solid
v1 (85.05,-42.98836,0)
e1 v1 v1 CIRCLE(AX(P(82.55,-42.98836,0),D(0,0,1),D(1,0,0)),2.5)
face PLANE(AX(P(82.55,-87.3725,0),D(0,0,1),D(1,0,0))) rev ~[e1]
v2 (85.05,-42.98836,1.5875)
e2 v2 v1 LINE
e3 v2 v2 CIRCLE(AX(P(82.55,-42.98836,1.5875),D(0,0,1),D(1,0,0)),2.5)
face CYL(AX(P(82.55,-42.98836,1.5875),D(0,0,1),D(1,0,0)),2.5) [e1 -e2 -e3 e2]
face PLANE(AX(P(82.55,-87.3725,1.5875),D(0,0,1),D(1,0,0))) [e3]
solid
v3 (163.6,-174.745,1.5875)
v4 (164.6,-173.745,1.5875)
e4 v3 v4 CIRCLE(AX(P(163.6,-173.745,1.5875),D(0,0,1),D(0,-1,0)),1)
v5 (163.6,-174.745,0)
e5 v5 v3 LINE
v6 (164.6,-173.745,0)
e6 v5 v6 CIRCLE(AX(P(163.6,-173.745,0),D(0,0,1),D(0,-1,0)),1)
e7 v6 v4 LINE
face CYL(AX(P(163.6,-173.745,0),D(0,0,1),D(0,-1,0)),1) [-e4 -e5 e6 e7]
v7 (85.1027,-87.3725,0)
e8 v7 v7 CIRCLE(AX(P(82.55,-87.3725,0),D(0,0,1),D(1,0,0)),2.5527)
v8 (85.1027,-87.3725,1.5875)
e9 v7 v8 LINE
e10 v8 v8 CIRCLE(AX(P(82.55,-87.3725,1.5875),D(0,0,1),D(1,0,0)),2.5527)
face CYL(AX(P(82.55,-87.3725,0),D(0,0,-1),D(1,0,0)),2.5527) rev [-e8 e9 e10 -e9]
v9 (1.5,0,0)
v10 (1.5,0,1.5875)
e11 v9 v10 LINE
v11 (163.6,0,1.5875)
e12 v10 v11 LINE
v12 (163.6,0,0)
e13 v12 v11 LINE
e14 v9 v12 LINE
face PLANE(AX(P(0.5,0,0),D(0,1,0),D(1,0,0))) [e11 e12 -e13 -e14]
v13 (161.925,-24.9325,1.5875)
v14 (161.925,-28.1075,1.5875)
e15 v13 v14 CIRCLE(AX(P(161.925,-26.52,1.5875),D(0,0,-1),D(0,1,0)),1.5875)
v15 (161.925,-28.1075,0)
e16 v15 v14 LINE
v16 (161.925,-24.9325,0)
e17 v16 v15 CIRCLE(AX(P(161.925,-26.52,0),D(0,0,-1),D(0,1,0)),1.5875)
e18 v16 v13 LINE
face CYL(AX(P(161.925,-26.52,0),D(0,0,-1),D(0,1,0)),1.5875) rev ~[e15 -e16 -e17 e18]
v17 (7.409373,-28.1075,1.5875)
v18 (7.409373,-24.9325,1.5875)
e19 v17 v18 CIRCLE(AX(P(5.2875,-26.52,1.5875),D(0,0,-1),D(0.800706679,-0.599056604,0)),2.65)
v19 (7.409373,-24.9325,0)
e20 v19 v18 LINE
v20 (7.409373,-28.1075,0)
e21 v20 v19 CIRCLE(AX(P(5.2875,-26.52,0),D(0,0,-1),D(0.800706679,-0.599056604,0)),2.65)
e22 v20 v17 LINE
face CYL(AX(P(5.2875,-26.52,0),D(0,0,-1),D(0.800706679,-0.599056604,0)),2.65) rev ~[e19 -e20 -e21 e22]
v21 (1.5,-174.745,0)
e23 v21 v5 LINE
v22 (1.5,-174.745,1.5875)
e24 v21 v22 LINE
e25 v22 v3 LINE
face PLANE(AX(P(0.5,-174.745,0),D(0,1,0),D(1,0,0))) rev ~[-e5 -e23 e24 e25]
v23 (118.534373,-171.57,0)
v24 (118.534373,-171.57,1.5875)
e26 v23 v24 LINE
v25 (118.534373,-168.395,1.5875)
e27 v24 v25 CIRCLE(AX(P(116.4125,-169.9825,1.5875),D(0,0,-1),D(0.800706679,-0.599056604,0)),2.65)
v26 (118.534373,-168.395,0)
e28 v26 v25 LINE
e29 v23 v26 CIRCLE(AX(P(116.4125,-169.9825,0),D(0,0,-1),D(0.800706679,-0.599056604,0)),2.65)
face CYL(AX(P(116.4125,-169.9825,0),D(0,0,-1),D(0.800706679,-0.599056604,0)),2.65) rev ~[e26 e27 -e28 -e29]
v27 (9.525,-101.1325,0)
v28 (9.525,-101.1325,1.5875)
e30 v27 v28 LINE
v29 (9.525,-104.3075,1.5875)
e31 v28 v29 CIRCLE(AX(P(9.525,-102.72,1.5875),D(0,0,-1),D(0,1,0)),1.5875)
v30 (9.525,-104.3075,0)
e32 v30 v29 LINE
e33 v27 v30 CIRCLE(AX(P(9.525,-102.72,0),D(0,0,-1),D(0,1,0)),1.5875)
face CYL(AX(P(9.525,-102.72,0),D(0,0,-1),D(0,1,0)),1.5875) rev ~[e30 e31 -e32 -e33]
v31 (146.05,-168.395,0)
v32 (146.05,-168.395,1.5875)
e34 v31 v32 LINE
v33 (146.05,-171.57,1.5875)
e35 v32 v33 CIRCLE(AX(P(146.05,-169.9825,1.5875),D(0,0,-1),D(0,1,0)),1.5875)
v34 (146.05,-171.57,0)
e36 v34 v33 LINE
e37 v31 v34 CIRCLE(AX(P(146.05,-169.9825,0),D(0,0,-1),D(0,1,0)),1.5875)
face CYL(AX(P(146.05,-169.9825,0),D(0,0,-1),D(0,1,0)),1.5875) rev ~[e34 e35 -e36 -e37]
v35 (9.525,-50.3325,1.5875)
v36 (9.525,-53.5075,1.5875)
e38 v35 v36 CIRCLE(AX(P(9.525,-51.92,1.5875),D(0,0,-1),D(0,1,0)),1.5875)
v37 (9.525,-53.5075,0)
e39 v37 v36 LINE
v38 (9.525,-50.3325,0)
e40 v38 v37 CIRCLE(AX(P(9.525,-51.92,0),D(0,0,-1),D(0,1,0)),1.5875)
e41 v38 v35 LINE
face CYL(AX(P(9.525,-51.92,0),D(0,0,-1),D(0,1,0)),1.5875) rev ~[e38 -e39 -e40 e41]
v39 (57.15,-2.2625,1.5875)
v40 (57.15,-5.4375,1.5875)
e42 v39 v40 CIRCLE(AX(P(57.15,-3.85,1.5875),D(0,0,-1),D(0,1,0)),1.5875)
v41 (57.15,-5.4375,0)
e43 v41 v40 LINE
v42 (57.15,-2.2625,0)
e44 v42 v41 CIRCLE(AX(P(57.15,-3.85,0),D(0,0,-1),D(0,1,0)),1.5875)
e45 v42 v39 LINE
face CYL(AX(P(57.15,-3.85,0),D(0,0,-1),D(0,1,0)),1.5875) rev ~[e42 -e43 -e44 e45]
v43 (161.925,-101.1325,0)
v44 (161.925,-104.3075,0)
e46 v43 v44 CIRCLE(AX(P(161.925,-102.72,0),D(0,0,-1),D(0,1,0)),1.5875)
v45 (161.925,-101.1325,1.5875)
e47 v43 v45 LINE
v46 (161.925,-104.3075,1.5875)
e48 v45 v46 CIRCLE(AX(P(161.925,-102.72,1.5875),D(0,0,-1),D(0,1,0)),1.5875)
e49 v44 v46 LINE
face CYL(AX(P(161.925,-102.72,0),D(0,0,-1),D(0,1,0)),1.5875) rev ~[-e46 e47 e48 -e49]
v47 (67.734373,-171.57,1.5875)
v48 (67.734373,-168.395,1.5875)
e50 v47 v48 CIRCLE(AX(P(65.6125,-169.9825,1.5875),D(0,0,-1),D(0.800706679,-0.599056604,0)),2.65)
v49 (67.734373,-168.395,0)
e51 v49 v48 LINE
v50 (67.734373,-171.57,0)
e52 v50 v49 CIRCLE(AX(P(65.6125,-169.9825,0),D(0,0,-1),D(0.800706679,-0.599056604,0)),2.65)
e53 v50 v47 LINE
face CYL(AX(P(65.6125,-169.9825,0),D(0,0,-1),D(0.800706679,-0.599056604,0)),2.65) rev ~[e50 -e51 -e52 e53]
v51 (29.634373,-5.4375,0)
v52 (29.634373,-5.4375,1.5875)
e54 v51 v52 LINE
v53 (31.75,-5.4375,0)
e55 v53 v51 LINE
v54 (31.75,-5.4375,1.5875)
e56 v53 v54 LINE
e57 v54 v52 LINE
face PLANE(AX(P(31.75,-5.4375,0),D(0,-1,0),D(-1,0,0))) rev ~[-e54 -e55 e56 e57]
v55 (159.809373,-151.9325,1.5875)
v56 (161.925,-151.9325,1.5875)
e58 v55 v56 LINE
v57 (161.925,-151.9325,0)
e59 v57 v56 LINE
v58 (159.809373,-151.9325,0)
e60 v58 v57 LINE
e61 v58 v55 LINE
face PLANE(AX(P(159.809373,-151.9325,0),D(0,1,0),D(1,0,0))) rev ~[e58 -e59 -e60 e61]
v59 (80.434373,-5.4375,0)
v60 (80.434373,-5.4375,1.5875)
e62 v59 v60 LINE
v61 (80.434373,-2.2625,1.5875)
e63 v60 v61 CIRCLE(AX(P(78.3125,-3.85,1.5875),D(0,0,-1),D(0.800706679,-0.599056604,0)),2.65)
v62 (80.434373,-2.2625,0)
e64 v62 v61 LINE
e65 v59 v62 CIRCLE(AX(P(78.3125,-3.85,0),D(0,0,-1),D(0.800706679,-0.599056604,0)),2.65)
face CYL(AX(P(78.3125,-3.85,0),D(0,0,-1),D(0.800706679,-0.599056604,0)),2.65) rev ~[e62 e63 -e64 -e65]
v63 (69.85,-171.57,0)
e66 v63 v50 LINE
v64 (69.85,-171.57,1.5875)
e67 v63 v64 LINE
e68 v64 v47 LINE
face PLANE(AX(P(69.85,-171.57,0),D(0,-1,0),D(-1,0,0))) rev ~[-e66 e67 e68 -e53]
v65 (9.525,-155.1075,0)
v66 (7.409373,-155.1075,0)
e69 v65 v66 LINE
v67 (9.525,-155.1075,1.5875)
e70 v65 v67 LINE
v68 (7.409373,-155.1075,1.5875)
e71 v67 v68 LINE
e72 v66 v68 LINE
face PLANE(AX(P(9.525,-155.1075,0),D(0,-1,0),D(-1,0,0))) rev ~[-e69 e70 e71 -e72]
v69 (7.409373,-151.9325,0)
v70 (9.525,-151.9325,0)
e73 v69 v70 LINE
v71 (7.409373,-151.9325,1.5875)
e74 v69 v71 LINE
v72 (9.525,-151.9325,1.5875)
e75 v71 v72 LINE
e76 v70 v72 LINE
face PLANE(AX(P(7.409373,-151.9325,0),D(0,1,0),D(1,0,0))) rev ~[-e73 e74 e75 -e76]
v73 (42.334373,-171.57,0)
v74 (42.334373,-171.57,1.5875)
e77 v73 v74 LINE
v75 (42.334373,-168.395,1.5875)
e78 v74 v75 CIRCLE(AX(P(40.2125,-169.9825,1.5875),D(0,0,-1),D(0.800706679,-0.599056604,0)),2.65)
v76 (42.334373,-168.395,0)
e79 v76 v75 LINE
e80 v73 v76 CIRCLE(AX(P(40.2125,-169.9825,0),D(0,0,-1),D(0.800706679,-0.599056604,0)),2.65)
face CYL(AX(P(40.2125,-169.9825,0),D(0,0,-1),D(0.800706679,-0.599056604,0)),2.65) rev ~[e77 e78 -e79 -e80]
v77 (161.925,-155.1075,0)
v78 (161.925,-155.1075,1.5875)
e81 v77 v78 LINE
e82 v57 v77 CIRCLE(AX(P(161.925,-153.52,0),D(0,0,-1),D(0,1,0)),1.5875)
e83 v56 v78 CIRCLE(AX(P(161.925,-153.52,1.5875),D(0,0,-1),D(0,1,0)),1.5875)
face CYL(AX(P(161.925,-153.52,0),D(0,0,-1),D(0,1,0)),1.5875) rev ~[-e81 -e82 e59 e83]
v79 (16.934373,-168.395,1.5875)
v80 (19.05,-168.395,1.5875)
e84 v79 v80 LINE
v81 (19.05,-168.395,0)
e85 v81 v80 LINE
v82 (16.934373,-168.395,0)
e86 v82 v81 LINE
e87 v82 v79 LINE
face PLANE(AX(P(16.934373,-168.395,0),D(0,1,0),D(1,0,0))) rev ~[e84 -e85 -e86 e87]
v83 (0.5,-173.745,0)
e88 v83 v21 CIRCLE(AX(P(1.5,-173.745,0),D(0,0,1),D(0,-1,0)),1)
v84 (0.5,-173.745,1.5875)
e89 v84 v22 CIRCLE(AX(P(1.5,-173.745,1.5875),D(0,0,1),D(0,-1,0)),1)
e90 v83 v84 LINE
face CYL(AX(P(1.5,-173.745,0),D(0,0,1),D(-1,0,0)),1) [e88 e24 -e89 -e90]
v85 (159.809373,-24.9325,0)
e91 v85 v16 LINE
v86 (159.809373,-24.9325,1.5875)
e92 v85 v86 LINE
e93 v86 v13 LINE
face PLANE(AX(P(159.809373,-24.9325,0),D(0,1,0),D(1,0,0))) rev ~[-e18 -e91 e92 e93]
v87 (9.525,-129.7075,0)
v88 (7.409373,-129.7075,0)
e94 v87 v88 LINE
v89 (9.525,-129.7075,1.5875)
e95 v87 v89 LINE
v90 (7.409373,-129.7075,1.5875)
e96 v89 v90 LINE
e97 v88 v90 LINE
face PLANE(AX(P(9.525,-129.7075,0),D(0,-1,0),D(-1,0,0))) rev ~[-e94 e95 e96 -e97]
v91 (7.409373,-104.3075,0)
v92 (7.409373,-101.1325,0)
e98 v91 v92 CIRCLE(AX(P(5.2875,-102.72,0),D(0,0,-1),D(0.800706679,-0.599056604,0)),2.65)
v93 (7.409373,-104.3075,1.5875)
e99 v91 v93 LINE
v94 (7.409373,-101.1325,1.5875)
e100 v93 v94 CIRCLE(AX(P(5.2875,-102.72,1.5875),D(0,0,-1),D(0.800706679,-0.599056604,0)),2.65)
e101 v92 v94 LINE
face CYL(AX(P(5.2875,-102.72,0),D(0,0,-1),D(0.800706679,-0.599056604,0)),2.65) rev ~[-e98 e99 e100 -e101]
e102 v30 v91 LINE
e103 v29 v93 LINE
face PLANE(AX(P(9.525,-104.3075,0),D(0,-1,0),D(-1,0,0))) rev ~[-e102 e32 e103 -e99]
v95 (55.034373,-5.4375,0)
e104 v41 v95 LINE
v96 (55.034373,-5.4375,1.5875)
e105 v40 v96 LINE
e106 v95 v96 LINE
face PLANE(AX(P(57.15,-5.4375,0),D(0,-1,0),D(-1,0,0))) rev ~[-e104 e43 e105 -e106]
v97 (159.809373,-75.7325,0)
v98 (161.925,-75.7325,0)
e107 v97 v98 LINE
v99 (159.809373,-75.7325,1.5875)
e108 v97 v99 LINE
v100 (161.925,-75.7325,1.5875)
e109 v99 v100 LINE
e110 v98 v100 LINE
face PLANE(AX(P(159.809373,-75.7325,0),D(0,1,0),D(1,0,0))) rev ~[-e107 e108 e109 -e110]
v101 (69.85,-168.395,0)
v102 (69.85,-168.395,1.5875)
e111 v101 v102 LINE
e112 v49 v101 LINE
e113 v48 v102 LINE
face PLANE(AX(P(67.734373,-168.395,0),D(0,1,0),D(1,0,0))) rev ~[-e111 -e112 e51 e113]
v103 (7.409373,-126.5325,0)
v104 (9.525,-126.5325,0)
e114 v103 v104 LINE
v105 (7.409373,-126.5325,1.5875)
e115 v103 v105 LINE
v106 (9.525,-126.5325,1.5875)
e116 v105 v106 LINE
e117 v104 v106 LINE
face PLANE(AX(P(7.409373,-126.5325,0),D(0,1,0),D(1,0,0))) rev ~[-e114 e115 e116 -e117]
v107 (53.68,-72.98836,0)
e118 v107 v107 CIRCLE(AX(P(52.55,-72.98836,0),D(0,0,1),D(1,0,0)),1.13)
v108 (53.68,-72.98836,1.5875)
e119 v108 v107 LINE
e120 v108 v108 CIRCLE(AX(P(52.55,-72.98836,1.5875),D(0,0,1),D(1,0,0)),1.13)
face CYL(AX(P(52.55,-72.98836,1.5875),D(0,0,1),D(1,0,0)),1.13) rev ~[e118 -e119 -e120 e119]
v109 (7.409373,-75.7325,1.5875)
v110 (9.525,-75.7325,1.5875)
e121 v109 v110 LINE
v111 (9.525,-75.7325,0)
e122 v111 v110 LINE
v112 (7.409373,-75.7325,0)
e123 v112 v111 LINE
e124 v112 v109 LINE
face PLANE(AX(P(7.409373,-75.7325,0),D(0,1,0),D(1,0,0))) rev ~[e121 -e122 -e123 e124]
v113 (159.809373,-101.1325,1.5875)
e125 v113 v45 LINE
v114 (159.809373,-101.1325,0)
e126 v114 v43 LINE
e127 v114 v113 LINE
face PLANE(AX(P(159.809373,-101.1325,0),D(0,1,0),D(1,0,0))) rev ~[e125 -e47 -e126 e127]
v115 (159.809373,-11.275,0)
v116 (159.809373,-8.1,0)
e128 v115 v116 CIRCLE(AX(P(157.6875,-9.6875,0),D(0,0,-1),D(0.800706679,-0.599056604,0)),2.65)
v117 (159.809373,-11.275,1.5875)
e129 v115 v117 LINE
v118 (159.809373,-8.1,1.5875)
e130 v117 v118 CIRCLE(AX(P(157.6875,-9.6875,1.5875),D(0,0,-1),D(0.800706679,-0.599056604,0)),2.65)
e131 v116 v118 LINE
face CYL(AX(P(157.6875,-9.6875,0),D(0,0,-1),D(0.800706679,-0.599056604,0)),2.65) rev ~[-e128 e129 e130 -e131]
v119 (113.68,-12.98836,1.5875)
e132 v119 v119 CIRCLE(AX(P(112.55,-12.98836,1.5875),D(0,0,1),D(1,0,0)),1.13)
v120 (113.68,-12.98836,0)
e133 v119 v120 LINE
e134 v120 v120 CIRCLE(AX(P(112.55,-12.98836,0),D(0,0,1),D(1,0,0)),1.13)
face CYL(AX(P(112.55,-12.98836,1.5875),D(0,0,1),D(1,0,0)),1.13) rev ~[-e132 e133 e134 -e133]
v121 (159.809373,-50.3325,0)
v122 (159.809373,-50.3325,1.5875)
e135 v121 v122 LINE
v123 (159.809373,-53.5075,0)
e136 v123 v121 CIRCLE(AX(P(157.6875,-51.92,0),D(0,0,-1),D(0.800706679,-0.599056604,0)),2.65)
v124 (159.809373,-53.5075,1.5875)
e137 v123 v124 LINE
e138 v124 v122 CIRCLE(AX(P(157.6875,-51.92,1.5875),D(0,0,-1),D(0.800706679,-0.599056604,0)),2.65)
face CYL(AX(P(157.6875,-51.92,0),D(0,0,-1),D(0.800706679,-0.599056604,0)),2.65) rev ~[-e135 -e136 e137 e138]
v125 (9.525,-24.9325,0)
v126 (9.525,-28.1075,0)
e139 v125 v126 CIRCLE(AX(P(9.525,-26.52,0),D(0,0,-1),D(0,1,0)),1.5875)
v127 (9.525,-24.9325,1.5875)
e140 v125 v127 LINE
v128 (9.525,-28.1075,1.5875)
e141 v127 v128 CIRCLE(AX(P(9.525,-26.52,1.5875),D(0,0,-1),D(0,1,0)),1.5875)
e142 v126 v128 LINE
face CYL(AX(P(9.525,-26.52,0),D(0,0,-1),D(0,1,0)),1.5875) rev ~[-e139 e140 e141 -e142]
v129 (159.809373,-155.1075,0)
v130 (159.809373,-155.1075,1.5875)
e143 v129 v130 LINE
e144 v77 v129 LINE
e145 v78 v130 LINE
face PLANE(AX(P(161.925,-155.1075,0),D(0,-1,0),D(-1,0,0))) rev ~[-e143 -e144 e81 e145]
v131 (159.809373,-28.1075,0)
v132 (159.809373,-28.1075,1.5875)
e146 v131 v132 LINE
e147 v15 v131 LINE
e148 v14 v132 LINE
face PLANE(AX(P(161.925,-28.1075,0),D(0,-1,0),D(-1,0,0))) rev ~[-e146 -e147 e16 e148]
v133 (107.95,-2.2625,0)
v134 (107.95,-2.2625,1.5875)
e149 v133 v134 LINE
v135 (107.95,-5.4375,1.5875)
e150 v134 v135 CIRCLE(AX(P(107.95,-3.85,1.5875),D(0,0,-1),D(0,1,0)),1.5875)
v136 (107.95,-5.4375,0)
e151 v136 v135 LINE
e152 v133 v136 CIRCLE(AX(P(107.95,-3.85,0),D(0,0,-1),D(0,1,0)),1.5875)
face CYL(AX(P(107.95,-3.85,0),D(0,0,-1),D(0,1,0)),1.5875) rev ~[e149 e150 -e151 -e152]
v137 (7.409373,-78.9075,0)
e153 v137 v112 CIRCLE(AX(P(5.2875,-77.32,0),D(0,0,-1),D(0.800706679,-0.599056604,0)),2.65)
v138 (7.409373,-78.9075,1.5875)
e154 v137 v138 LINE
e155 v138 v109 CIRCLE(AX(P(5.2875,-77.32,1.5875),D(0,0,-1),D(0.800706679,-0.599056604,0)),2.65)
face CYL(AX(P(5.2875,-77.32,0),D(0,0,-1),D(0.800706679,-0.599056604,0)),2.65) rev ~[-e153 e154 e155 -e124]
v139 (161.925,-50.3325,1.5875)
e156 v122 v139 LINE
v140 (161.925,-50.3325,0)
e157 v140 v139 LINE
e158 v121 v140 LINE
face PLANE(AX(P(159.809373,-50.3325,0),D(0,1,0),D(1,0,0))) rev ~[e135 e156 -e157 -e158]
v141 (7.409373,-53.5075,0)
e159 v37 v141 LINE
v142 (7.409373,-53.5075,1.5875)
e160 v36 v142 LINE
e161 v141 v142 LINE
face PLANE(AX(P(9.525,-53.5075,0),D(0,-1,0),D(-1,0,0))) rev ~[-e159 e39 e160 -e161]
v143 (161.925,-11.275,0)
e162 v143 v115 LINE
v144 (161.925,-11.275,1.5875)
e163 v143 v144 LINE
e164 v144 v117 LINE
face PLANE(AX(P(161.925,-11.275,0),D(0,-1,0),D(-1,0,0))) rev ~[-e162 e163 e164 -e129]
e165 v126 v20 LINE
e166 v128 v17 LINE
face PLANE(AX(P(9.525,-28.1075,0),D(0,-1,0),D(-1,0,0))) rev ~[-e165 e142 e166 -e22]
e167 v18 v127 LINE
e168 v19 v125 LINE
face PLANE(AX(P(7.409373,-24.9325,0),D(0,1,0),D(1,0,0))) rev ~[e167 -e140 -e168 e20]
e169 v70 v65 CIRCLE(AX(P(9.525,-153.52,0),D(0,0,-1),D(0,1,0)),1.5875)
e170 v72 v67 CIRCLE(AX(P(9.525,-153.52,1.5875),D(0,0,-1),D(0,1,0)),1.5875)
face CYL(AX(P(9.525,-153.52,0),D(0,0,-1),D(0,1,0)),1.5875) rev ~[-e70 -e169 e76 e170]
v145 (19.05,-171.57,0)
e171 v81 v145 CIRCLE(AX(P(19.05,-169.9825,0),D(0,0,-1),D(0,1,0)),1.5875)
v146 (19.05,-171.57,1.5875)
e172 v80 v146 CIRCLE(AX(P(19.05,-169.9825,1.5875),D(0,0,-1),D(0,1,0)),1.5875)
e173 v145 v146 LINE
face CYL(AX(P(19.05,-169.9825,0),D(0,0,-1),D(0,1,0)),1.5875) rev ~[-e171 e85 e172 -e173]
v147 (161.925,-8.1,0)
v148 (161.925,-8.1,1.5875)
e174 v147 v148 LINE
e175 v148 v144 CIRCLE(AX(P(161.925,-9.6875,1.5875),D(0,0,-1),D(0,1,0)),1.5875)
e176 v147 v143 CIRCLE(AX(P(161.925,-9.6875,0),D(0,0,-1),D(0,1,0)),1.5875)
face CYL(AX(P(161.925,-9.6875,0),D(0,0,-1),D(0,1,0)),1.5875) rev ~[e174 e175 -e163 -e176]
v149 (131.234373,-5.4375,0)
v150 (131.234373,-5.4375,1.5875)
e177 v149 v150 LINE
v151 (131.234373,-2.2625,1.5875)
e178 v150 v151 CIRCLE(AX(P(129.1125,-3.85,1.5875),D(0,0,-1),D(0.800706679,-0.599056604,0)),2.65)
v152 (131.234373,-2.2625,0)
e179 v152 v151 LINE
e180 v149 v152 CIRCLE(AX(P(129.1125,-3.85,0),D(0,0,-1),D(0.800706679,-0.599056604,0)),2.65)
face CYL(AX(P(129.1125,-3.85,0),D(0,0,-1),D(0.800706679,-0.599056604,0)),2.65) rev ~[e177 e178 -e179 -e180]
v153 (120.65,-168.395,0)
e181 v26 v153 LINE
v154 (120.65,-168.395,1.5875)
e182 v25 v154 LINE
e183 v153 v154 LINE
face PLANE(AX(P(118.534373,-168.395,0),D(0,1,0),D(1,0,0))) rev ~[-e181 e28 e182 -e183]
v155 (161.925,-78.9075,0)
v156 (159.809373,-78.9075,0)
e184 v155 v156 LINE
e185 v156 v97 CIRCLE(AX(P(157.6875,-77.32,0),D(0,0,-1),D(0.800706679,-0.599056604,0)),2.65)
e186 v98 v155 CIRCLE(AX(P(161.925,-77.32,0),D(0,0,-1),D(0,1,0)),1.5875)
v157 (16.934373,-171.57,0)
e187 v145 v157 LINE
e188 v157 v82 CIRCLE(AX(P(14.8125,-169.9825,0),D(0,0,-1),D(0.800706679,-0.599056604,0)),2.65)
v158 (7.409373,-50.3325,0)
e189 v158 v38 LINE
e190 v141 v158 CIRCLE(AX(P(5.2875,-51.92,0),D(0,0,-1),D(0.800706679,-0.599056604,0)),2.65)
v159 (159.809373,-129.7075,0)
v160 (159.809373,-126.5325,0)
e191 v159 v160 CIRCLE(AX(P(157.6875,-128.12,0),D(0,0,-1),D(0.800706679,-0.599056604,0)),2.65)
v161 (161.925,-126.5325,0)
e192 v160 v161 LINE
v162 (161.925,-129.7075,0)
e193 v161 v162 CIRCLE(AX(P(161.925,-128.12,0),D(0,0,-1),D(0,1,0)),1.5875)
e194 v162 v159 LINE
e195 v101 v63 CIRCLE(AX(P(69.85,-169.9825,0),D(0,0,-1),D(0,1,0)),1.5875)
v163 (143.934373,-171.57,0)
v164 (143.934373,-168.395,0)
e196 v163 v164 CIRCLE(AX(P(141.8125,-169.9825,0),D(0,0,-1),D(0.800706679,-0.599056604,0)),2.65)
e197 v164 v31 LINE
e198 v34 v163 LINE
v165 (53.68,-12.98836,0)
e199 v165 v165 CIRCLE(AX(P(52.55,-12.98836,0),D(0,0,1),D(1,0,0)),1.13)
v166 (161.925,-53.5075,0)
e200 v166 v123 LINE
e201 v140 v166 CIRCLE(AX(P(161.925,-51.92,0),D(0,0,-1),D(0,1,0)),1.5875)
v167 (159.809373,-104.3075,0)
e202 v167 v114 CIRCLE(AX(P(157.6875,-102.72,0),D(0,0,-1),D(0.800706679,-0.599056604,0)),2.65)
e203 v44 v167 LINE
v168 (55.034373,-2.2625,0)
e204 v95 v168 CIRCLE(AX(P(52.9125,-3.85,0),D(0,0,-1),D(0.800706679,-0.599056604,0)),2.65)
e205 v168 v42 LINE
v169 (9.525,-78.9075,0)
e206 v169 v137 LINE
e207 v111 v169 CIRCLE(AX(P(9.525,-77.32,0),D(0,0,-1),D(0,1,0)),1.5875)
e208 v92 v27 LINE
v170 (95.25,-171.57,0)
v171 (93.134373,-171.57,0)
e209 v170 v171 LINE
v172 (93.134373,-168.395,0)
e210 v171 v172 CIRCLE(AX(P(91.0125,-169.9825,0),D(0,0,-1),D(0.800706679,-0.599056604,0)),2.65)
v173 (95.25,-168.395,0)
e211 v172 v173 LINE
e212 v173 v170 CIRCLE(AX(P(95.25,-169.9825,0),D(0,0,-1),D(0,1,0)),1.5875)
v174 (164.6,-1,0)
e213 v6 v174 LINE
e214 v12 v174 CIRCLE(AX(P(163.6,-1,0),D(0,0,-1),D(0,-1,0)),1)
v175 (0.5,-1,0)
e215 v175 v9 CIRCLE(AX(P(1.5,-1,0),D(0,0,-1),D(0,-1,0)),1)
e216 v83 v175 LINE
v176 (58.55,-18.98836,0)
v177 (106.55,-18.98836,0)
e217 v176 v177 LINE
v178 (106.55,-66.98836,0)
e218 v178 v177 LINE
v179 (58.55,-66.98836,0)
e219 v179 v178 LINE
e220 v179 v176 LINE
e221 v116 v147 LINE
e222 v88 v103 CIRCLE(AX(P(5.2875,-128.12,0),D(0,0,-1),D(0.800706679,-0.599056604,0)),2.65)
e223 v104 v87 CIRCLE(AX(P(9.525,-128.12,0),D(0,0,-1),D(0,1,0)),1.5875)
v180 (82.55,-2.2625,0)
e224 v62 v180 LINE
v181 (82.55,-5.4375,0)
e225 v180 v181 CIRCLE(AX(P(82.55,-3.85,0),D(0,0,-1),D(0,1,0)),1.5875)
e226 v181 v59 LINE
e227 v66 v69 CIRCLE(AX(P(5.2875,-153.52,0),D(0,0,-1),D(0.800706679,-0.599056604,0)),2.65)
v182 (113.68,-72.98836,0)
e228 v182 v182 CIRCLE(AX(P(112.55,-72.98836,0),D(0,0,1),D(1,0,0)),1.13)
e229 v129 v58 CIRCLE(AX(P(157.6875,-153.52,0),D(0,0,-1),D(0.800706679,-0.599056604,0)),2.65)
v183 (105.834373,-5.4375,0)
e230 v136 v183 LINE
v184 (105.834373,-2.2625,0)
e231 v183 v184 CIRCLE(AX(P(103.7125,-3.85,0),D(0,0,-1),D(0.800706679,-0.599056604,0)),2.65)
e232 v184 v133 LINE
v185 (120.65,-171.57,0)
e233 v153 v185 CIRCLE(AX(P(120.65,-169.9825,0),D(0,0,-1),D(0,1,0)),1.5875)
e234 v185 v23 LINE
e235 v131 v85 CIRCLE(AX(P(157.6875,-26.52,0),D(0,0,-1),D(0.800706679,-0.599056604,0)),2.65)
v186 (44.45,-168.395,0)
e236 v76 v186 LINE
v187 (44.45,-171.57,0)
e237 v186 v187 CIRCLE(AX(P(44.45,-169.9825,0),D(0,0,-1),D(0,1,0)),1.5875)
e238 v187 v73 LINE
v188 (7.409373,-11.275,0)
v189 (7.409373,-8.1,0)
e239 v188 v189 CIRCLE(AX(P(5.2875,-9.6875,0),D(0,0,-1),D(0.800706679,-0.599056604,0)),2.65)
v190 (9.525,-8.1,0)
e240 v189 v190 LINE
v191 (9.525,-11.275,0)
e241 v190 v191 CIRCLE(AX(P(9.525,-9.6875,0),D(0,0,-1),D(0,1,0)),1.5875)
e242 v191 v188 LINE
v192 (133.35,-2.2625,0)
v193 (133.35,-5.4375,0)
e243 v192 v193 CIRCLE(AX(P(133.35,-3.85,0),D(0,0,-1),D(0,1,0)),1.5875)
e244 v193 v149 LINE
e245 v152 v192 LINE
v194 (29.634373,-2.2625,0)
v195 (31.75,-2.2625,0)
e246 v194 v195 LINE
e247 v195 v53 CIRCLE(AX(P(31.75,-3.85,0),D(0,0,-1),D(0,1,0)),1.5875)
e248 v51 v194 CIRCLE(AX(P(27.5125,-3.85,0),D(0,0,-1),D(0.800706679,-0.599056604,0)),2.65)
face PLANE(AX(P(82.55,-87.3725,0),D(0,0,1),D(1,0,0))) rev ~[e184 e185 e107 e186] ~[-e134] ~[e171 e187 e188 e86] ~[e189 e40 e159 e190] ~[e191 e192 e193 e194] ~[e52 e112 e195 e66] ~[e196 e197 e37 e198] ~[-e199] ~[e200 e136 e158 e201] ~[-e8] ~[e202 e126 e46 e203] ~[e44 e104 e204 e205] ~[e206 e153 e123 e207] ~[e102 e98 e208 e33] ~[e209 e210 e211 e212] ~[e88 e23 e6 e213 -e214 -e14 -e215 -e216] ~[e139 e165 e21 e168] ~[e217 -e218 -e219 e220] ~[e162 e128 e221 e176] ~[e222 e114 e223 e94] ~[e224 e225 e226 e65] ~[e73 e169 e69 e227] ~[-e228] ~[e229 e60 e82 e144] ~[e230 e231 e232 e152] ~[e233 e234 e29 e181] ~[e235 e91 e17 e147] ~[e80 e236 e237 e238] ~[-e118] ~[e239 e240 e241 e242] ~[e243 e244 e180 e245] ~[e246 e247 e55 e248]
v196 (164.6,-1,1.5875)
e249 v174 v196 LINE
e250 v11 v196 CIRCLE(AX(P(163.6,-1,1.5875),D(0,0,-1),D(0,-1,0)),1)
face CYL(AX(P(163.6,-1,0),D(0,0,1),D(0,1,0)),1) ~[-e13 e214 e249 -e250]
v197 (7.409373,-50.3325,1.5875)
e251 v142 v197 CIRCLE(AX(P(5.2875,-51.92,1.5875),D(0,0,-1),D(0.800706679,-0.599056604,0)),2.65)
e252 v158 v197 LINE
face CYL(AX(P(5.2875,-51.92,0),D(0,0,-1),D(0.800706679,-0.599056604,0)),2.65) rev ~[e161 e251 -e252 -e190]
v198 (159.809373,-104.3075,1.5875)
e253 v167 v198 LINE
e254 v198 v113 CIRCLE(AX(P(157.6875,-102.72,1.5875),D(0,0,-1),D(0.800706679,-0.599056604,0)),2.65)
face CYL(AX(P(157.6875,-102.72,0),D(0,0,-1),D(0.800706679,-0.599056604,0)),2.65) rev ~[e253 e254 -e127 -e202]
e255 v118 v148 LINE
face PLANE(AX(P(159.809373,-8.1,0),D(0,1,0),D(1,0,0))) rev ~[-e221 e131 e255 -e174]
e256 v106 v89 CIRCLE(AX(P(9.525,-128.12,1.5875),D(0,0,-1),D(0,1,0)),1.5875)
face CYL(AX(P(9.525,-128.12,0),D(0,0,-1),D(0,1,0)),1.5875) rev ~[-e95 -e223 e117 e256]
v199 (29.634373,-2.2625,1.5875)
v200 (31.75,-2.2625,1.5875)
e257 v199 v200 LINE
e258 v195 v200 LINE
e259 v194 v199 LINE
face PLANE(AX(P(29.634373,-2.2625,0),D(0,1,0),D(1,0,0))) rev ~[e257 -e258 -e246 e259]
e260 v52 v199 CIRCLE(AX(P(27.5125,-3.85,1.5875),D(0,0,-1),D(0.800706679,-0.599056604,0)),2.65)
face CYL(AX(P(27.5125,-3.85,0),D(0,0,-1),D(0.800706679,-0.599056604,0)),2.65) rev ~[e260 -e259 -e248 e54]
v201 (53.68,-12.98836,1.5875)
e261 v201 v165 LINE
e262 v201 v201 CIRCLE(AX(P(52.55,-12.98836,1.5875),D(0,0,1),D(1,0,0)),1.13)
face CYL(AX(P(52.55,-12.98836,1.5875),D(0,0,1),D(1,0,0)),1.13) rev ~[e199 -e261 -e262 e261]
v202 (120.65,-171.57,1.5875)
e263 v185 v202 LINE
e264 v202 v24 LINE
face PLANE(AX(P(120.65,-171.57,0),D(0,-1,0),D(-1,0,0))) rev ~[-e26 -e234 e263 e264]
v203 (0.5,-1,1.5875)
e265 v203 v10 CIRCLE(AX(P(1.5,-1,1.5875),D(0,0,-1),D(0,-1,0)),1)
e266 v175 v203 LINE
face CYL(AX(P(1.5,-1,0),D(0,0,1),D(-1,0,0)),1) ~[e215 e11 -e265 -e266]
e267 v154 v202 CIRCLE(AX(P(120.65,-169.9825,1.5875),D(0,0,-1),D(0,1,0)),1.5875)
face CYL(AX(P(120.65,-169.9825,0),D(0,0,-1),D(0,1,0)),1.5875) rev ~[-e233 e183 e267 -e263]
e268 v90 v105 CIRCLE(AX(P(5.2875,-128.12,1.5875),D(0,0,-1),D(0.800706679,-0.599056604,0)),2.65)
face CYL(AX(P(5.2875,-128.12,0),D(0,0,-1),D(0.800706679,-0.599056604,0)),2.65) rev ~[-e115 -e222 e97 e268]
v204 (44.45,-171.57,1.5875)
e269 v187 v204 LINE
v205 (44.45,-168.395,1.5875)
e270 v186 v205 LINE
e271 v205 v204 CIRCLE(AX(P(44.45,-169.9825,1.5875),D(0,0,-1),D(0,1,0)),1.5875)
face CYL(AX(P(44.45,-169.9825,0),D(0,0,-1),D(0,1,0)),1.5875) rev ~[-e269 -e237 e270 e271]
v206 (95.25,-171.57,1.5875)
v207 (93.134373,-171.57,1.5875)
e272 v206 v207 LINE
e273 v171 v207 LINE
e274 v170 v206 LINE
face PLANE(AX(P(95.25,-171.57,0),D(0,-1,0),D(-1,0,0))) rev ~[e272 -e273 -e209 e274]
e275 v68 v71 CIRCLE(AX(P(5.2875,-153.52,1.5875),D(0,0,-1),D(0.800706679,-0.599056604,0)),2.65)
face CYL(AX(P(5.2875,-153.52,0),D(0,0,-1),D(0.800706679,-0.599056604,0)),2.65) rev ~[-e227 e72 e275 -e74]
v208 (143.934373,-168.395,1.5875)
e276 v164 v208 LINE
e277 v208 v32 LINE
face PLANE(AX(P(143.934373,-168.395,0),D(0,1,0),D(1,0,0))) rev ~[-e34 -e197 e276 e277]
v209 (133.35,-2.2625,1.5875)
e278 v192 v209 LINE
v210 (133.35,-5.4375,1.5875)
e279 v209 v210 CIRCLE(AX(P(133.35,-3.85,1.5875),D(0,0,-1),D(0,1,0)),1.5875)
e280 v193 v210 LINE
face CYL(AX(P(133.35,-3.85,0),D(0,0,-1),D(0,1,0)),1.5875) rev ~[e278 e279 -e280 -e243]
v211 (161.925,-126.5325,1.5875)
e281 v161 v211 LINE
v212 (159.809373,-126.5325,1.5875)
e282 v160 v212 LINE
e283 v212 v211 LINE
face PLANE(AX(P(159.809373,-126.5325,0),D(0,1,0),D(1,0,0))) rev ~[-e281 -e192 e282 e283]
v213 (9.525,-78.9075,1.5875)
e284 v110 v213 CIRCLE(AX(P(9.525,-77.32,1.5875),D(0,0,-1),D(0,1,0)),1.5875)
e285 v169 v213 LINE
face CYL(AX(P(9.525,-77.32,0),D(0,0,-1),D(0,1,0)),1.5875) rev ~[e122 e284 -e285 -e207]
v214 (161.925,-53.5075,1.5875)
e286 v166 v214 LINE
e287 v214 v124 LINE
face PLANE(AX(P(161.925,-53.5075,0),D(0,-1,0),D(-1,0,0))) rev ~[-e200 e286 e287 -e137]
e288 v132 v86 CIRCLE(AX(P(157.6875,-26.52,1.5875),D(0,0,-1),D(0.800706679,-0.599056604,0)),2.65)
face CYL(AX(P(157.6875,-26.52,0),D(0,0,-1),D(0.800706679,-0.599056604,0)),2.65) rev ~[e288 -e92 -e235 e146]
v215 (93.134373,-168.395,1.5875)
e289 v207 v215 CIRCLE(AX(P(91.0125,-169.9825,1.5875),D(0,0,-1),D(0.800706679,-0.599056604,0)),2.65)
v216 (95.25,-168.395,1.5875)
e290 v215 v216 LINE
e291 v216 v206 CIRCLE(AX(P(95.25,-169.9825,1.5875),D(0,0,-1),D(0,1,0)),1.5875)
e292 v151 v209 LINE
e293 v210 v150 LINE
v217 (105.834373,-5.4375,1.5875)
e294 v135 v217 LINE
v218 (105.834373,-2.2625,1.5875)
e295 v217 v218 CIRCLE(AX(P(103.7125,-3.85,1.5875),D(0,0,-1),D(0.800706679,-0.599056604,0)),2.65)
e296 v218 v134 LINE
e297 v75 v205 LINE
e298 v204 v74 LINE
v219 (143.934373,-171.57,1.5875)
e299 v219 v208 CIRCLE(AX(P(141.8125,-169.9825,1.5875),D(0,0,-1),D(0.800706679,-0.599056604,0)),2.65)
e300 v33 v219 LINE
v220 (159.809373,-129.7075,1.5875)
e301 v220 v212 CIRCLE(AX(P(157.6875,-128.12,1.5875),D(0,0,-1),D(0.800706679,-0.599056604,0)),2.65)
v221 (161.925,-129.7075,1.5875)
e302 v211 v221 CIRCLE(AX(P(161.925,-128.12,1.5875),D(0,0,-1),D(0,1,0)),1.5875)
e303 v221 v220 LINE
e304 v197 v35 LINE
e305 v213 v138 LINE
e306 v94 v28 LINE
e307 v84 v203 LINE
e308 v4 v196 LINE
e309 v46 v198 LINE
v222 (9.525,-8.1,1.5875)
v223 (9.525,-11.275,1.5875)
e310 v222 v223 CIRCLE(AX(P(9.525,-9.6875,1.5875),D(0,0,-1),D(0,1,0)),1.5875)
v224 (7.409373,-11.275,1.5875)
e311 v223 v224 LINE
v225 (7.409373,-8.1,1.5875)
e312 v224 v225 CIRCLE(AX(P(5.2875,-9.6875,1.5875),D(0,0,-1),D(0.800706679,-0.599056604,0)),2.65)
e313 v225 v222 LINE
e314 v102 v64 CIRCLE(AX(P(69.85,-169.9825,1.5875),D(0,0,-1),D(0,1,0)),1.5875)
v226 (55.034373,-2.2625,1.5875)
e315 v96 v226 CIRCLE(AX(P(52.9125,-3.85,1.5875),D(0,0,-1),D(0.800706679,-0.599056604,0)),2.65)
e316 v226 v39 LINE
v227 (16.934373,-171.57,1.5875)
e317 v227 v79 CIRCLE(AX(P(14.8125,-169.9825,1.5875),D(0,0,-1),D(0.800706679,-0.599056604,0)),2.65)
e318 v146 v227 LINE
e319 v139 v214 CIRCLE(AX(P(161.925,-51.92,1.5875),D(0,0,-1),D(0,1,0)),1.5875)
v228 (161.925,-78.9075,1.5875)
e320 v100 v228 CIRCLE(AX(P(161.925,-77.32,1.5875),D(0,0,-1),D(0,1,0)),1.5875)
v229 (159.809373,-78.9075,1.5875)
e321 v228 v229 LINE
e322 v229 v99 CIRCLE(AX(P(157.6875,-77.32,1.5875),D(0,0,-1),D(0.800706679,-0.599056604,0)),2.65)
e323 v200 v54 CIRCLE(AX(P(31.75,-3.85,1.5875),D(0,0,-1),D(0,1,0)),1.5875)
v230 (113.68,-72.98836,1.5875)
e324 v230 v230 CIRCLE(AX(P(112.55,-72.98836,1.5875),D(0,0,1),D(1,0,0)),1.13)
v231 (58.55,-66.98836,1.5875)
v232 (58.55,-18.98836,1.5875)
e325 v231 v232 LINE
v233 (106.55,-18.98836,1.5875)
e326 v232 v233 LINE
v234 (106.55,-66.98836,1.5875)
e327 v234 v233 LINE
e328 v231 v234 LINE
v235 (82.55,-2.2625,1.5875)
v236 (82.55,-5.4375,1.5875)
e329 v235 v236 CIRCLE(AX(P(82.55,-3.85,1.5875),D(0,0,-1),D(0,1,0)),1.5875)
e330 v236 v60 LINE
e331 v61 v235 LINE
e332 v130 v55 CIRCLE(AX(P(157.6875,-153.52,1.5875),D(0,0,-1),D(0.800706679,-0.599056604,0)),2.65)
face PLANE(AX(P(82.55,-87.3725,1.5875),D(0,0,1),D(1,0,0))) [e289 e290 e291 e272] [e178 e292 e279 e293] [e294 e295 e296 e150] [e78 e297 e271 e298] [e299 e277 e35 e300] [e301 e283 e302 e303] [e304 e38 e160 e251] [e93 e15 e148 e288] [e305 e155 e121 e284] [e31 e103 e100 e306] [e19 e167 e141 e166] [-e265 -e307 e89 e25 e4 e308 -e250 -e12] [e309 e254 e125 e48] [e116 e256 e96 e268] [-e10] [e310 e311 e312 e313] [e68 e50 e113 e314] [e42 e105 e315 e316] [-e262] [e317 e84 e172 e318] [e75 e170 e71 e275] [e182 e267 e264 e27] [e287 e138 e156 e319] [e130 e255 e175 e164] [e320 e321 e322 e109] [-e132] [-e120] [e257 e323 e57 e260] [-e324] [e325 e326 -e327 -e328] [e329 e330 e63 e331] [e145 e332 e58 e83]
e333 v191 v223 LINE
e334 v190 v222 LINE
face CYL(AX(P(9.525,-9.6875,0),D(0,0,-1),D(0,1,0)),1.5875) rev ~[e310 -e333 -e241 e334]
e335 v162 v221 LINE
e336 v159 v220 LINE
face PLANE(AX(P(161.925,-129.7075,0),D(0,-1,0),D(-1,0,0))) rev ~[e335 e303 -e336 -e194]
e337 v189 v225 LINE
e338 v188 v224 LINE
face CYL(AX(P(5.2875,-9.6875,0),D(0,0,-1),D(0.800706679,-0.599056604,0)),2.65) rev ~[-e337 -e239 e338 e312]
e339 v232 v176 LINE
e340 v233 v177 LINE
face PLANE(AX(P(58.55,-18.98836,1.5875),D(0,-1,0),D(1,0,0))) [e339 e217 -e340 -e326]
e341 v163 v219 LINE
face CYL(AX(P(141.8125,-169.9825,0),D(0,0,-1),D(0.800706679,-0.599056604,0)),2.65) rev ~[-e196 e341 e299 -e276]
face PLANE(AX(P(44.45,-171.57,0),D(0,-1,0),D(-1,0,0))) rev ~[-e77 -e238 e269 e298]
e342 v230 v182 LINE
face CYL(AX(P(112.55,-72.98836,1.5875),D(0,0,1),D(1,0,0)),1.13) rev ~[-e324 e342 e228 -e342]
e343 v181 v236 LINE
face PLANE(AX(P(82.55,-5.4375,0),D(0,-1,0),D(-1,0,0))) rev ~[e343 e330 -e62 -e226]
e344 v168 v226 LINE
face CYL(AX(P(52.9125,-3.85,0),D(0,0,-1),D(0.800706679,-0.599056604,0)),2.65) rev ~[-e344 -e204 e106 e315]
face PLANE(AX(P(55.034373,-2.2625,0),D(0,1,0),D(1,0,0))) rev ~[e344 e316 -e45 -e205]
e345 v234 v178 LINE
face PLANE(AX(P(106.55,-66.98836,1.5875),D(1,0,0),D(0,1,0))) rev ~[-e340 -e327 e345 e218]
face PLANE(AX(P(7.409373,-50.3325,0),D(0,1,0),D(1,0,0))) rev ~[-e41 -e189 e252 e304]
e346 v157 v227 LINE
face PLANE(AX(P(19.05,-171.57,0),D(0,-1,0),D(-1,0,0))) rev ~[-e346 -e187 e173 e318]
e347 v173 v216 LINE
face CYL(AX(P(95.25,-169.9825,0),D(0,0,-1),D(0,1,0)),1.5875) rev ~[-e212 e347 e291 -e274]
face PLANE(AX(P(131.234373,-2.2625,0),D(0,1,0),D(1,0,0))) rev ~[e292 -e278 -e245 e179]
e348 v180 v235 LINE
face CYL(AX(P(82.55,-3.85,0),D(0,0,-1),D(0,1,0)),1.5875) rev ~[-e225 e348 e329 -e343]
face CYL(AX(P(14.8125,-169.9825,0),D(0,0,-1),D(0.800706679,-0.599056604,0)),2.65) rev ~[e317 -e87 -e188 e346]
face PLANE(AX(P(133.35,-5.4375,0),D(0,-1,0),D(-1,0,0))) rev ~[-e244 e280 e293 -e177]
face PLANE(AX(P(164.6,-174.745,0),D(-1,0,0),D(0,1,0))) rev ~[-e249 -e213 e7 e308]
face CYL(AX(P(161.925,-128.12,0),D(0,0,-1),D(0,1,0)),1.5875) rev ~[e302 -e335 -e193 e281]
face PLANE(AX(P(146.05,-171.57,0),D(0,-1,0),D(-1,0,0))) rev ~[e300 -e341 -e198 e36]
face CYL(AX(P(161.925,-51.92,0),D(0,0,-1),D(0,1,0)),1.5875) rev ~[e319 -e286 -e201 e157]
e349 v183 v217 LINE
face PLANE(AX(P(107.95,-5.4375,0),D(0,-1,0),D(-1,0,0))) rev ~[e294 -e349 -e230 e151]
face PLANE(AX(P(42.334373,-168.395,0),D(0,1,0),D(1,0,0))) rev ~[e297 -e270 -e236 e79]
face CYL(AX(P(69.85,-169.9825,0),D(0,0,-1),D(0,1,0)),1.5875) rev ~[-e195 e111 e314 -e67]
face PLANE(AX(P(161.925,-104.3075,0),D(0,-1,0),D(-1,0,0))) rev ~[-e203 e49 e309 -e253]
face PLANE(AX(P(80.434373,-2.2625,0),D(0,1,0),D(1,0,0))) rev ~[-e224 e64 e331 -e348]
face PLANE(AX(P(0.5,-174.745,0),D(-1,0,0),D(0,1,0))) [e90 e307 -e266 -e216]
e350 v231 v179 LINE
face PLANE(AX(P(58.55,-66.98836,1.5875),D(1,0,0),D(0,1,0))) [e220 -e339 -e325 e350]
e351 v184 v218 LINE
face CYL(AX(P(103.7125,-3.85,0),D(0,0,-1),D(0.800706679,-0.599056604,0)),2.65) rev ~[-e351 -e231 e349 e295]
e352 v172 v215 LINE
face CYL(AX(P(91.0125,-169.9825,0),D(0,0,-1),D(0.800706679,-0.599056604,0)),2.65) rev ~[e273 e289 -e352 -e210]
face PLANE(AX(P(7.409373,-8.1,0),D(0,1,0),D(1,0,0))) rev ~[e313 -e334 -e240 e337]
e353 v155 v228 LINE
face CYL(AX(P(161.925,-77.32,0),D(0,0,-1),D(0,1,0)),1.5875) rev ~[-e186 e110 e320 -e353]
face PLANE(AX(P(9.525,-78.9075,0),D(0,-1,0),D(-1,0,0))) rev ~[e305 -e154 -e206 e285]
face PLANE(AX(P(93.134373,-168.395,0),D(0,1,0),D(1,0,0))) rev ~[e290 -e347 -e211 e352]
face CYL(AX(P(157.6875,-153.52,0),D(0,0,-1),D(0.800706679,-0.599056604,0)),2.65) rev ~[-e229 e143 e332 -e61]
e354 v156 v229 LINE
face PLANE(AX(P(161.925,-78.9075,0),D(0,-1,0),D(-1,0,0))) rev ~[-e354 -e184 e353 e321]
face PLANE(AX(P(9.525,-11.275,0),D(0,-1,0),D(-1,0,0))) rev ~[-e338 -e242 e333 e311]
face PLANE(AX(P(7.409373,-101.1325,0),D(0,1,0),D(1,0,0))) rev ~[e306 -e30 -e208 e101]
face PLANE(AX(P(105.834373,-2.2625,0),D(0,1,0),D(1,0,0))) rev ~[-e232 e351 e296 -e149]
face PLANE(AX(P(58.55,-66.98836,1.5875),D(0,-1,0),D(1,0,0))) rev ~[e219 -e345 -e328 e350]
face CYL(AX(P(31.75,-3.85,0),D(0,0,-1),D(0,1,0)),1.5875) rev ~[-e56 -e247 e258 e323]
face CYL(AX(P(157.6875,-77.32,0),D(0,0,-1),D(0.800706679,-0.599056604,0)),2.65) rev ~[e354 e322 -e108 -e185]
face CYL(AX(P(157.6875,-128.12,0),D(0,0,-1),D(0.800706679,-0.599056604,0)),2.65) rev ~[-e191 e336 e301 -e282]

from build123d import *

# Parameters (mm, degrees)
SKETCH1_W           = 164.1
SKETCH1_H           = 174.745
SKETCH1_R           = 2.5527
BOSS_EXTRUDE1_DEPTH = 1.5875
FILLET1_R           = 1
SKETCH2_W           = 48
SKETCH2_H           = 48
SKETCH2_R           = 2.5
SKETCH2_R_2         = 1.13
CUT_EXTRUDE1_DEPTH  = 10


with BuildPart() as part:
    # Sketch1 → Boss-Extrude1 (new body)
    with BuildSketch(Plane.XY):
        with Locations((82.55, -87.3725)):
            Rectangle(SKETCH1_W, SKETCH1_H)
        with Locations((82.55, -87.3725)):
            Circle(SKETCH1_R, mode=Mode.SUBTRACT)
        with BuildLine():
            Line((82.55, -5.4375), (80.434372699, -5.4375))
            ThreePointArc((80.434372699, -5.4375), (75.6625, -3.85), (80.434372699, -2.2625))
            Line((80.434372699, -2.2625), (82.55, -2.2625))
            ThreePointArc((82.55, -2.2625), (84.1375, -3.85), (82.55, -5.4375))
        make_face(mode=Mode.SUBTRACT)
        with BuildLine():
            Line((16.934372699, -168.395), (19.05, -168.395))
            ThreePointArc((19.05, -168.395), (20.6375, -169.9825), (19.05, -171.57))
            Line((19.05, -171.57), (16.934372699, -171.57))
            ThreePointArc((16.934372699, -171.57), (12.1625, -169.9825), (16.934372699, -168.395))
        make_face(mode=Mode.SUBTRACT)
        with BuildLine():
            Line((7.409372699, -151.9325), (9.525, -151.9325))
            ThreePointArc((9.525, -151.9325), (11.1125, -153.52), (9.525, -155.1075))
            Line((9.525, -155.1075), (7.409372699, -155.1075))
            ThreePointArc((7.409372699, -155.1075), (2.6375, -153.52), (7.409372699, -151.9325))
        make_face(mode=Mode.SUBTRACT)
        with BuildLine():
            Line((42.334372699, -168.395), (44.45, -168.395))
            ThreePointArc((44.45, -168.395), (46.0375, -169.9825), (44.45, -171.57))
            Line((44.45, -171.57), (42.334372699, -171.57))
            ThreePointArc((42.334372699, -171.57), (37.5625, -169.9825), (42.334372699, -168.395))
        make_face(mode=Mode.SUBTRACT)
        with BuildLine():
            Line((67.734372699, -168.395), (69.85, -168.395))
            ThreePointArc((69.85, -168.395), (71.4375, -169.9825), (69.85, -171.57))
            Line((69.85, -171.57), (67.734372699, -171.57))
            ThreePointArc((67.734372699, -171.57), (62.9625, -169.9825), (67.734372699, -168.395))
        make_face(mode=Mode.SUBTRACT)
        with BuildLine():
            Line((7.409372699, -126.5325), (9.525, -126.5325))
            ThreePointArc((9.525, -126.5325), (11.1125, -128.12), (9.525, -129.7075))
            Line((9.525, -129.7075), (7.409372699, -129.7075))
            ThreePointArc((7.409372699, -129.7075), (2.6375, -128.12), (7.409372699, -126.5325))
        make_face(mode=Mode.SUBTRACT)
        with BuildLine():
            Line((7.409372699, -101.1325), (9.525, -101.1325))
            ThreePointArc((9.525, -101.1325), (11.1125, -102.72), (9.525, -104.3075))
            Line((9.525, -104.3075), (7.409372699, -104.3075))
            ThreePointArc((7.409372699, -104.3075), (2.6375, -102.72), (7.409372699, -101.1325))
        make_face(mode=Mode.SUBTRACT)
        with BuildLine():
            Line((7.409372699, -75.7325), (9.525, -75.7325))
            ThreePointArc((9.525, -75.7325), (11.1125, -77.32), (9.525, -78.9075))
            Line((9.525, -78.9075), (7.409372699, -78.9075))
            ThreePointArc((7.409372699, -78.9075), (2.6375, -77.32), (7.409372699, -75.7325))
        make_face(mode=Mode.SUBTRACT)
        with BuildLine():
            Line((7.409372699, -50.3325), (9.525, -50.3325))
            ThreePointArc((9.525, -50.3325), (11.1125, -51.92), (9.525, -53.5075))
            Line((9.525, -53.5075), (7.409372699, -53.5075))
            ThreePointArc((7.409372699, -53.5075), (2.6375, -51.92), (7.409372699, -50.3325))
        make_face(mode=Mode.SUBTRACT)
        with BuildLine():
            Line((7.409372699, -24.9325), (9.525, -24.9325))
            ThreePointArc((9.525, -24.9325), (11.1125, -26.52), (9.525, -28.1075))
            Line((9.525, -28.1075), (7.409372699, -28.1075))
            ThreePointArc((7.409372699, -28.1075), (2.6375, -26.52), (7.409372699, -24.9325))
        make_face(mode=Mode.SUBTRACT)
        with BuildLine():
            Line((7.409372699, -8.1), (9.525, -8.1))
            ThreePointArc((9.525, -8.1), (11.1125, -9.6875), (9.525, -11.275))
            Line((9.525, -11.275), (7.409372699, -11.275))
            ThreePointArc((7.409372699, -11.275), (2.6375, -9.6875), (7.409372699, -8.1))
        make_face(mode=Mode.SUBTRACT)
        with BuildLine():
            Line((29.634372699, -2.2625), (31.75, -2.2625))
            ThreePointArc((31.75, -2.2625), (33.3375, -3.85), (31.75, -5.4375))
            Line((31.75, -5.4375), (29.634372699, -5.4375))
            ThreePointArc((29.634372699, -5.4375), (24.8625, -3.85), (29.634372699, -2.2625))
        make_face(mode=Mode.SUBTRACT)
        with BuildLine():
            Line((55.034372699, -2.2625), (57.15, -2.2625))
            ThreePointArc((57.15, -2.2625), (58.7375, -3.85), (57.15, -5.4375))
            Line((57.15, -5.4375), (55.034372699, -5.4375))
            ThreePointArc((55.034372699, -5.4375), (50.2625, -3.85), (55.034372699, -2.2625))
        make_face(mode=Mode.SUBTRACT)
        with BuildLine():
            ThreePointArc((161.925, -8.1), (163.5125, -9.6875), (161.925, -11.275))
            Line((161.925, -11.275), (159.809372699, -11.275))
            ThreePointArc((159.809372699, -11.275), (155.0375, -9.6875), (159.809372699, -8.1))
            Line((159.809372699, -8.1), (161.925, -8.1))
        make_face(mode=Mode.SUBTRACT)
        with BuildLine():
            Line((93.134372699, -168.395), (95.25, -168.395))
            ThreePointArc((95.25, -168.395), (96.8375, -169.9825), (95.25, -171.57))
            Line((95.25, -171.57), (93.134372699, -171.57))
            ThreePointArc((93.134372699, -171.57), (88.3625, -169.9825), (93.134372699, -168.395))
        make_face(mode=Mode.SUBTRACT)
        with BuildLine():
            Line((118.534372699, -168.395), (120.65, -168.395))
            ThreePointArc((120.65, -168.395), (122.2375, -169.9825), (120.65, -171.57))
            Line((120.65, -171.57), (118.534372699, -171.57))
            ThreePointArc((118.534372699, -171.57), (113.7625, -169.9825), (118.534372699, -168.395))
        make_face(mode=Mode.SUBTRACT)
        with BuildLine():
            Line((143.934372699, -168.395), (146.05, -168.395))
            ThreePointArc((146.05, -168.395), (147.6375, -169.9825), (146.05, -171.57))
            Line((146.05, -171.57), (143.934372699, -171.57))
            ThreePointArc((143.934372699, -171.57), (139.1625, -169.9825), (143.934372699, -168.395))
        make_face(mode=Mode.SUBTRACT)
        with BuildLine():
            Line((159.809372699, -151.9325), (161.925, -151.9325))
            ThreePointArc((161.925, -151.9325), (163.5125, -153.52), (161.925, -155.1075))
            Line((161.925, -155.1075), (159.809372699, -155.1075))
            ThreePointArc((159.809372699, -155.1075), (155.0375, -153.52), (159.809372699, -151.9325))
        make_face(mode=Mode.SUBTRACT)
        with BuildLine():
            Line((159.809372699, -126.5325), (161.925, -126.5325))
            ThreePointArc((161.925, -126.5325), (163.5125, -128.12), (161.925, -129.7075))
            Line((161.925, -129.7075), (159.809372699, -129.7075))
            ThreePointArc((159.809372699, -129.7075), (155.0375, -128.12), (159.809372699, -126.5325))
        make_face(mode=Mode.SUBTRACT)
        with BuildLine():
            Line((159.809372699, -101.1325), (161.925, -101.1325))
            ThreePointArc((161.925, -101.1325), (163.5125, -102.72), (161.925, -104.3075))
            Line((161.925, -104.3075), (159.809372699, -104.3075))
            ThreePointArc((159.809372699, -104.3075), (155.0375, -102.72), (159.809372699, -101.1325))
        make_face(mode=Mode.SUBTRACT)
        with BuildLine():
            Line((159.809372699, -75.7325), (161.925, -75.7325))
            ThreePointArc((161.925, -75.7325), (163.5125, -77.32), (161.925, -78.9075))
            Line((161.925, -78.9075), (159.809372699, -78.9075))
            ThreePointArc((159.809372699, -78.9075), (155.0375, -77.32), (159.809372699, -75.7325))
        make_face(mode=Mode.SUBTRACT)
        with BuildLine():
            Line((159.809372699, -50.3325), (161.925, -50.3325))
            ThreePointArc((161.925, -50.3325), (163.5125, -51.92), (161.925, -53.5075))
            Line((161.925, -53.5075), (159.809372699, -53.5075))
            ThreePointArc((159.809372699, -53.5075), (155.0375, -51.92), (159.809372699, -50.3325))
        make_face(mode=Mode.SUBTRACT)
        with BuildLine():
            Line((105.834372699, -2.2625), (107.95, -2.2625))
            ThreePointArc((107.95, -2.2625), (109.5375, -3.85), (107.95, -5.4375))
            Line((107.95, -5.4375), (105.834372699, -5.4375))
            ThreePointArc((105.834372699, -5.4375), (101.0625, -3.85), (105.834372699, -2.2625))
        make_face(mode=Mode.SUBTRACT)
        with BuildLine():
            Line((159.809372699, -24.9325), (161.925, -24.9325))
            ThreePointArc((161.925, -24.9325), (163.5125, -26.52), (161.925, -28.1075))
            Line((161.925, -28.1075), (159.809372699, -28.1075))
            ThreePointArc((159.809372699, -28.1075), (155.0375, -26.52), (159.809372699, -24.9325))
        make_face(mode=Mode.SUBTRACT)
        with BuildLine():
            Line((131.234372699, -2.2625), (133.35, -2.2625))
            ThreePointArc((133.35, -2.2625), (134.9375, -3.85), (133.35, -5.4375))
            Line((133.35, -5.4375), (131.234372699, -5.4375))
            ThreePointArc((131.234372699, -5.4375), (126.4625, -3.85), (131.234372699, -2.2625))
        make_face(mode=Mode.SUBTRACT)
    extrude(amount=BOSS_EXTRUDE1_DEPTH)

    # Fillet1
    fillet1_edges = [part.edges().sort_by_distance(p)[0] for p in [
        (0.5, -174.745, 0.79375),
        (0.5, 0, 0.79375),
        (164.6, 0, 0.79375),
        (164.6, -174.745, 0.79375),
    ]]
    fillet(fillet1_edges, radius=FILLET1_R)

    # Sketch2 → Cut-Extrude1 (cut)
    # profile 1 of 5: a face of its own
    with BuildSketch(Plane.XY.offset(1.5875)):
        with Locations((82.55, -42.98836)):
            Rectangle(SKETCH2_W, SKETCH2_H)
        with Locations((82.55, -42.98836)):
            Circle(SKETCH2_R, mode=Mode.SUBTRACT)
    # profile 2 of 5: a face of its own
    with BuildSketch(Plane.XY.offset(1.5875)):
        with Locations((112.55, -12.98836)):
            Circle(SKETCH2_R_2)
    # profile 3 of 5: a face of its own
    with BuildSketch(Plane.XY.offset(1.5875)):
        with Locations((112.55, -72.98836)):
            Circle(SKETCH2_R_2)
    # profile 4 of 5: a face of its own
    with BuildSketch(Plane.XY.offset(1.5875)):
        with Locations((52.55, -72.98836)):
            Circle(SKETCH2_R_2)
    # profile 5 of 5: a face of its own
    with BuildSketch(Plane.XY.offset(1.5875)):
        with Locations((52.55, -12.98836)):
            Circle(SKETCH2_R_2)
    extrude(amount=-CUT_EXTRUDE1_DEPTH, mode=Mode.SUBTRACT)


with BuildPart() as cut_extrude1_piece_1:
    # of the separate pieces the step leaves, piece 1, a body of its own (cut_extrude1_pieces)
    add(part.part.solids().sort_by_distance((0.5, -1, 0))[0])


with BuildPart() as cut_extrude1_piece_2:
    # of the separate pieces the step leaves, piece 2, a body of its own (cut_extrude1_pieces)
    add(part.part.solids().sort_by_distance((85.05, -42.98836, 0))[0])


solid = Compound([cut_extrude1_piece_1.part, cut_extrude1_piece_2.part])
